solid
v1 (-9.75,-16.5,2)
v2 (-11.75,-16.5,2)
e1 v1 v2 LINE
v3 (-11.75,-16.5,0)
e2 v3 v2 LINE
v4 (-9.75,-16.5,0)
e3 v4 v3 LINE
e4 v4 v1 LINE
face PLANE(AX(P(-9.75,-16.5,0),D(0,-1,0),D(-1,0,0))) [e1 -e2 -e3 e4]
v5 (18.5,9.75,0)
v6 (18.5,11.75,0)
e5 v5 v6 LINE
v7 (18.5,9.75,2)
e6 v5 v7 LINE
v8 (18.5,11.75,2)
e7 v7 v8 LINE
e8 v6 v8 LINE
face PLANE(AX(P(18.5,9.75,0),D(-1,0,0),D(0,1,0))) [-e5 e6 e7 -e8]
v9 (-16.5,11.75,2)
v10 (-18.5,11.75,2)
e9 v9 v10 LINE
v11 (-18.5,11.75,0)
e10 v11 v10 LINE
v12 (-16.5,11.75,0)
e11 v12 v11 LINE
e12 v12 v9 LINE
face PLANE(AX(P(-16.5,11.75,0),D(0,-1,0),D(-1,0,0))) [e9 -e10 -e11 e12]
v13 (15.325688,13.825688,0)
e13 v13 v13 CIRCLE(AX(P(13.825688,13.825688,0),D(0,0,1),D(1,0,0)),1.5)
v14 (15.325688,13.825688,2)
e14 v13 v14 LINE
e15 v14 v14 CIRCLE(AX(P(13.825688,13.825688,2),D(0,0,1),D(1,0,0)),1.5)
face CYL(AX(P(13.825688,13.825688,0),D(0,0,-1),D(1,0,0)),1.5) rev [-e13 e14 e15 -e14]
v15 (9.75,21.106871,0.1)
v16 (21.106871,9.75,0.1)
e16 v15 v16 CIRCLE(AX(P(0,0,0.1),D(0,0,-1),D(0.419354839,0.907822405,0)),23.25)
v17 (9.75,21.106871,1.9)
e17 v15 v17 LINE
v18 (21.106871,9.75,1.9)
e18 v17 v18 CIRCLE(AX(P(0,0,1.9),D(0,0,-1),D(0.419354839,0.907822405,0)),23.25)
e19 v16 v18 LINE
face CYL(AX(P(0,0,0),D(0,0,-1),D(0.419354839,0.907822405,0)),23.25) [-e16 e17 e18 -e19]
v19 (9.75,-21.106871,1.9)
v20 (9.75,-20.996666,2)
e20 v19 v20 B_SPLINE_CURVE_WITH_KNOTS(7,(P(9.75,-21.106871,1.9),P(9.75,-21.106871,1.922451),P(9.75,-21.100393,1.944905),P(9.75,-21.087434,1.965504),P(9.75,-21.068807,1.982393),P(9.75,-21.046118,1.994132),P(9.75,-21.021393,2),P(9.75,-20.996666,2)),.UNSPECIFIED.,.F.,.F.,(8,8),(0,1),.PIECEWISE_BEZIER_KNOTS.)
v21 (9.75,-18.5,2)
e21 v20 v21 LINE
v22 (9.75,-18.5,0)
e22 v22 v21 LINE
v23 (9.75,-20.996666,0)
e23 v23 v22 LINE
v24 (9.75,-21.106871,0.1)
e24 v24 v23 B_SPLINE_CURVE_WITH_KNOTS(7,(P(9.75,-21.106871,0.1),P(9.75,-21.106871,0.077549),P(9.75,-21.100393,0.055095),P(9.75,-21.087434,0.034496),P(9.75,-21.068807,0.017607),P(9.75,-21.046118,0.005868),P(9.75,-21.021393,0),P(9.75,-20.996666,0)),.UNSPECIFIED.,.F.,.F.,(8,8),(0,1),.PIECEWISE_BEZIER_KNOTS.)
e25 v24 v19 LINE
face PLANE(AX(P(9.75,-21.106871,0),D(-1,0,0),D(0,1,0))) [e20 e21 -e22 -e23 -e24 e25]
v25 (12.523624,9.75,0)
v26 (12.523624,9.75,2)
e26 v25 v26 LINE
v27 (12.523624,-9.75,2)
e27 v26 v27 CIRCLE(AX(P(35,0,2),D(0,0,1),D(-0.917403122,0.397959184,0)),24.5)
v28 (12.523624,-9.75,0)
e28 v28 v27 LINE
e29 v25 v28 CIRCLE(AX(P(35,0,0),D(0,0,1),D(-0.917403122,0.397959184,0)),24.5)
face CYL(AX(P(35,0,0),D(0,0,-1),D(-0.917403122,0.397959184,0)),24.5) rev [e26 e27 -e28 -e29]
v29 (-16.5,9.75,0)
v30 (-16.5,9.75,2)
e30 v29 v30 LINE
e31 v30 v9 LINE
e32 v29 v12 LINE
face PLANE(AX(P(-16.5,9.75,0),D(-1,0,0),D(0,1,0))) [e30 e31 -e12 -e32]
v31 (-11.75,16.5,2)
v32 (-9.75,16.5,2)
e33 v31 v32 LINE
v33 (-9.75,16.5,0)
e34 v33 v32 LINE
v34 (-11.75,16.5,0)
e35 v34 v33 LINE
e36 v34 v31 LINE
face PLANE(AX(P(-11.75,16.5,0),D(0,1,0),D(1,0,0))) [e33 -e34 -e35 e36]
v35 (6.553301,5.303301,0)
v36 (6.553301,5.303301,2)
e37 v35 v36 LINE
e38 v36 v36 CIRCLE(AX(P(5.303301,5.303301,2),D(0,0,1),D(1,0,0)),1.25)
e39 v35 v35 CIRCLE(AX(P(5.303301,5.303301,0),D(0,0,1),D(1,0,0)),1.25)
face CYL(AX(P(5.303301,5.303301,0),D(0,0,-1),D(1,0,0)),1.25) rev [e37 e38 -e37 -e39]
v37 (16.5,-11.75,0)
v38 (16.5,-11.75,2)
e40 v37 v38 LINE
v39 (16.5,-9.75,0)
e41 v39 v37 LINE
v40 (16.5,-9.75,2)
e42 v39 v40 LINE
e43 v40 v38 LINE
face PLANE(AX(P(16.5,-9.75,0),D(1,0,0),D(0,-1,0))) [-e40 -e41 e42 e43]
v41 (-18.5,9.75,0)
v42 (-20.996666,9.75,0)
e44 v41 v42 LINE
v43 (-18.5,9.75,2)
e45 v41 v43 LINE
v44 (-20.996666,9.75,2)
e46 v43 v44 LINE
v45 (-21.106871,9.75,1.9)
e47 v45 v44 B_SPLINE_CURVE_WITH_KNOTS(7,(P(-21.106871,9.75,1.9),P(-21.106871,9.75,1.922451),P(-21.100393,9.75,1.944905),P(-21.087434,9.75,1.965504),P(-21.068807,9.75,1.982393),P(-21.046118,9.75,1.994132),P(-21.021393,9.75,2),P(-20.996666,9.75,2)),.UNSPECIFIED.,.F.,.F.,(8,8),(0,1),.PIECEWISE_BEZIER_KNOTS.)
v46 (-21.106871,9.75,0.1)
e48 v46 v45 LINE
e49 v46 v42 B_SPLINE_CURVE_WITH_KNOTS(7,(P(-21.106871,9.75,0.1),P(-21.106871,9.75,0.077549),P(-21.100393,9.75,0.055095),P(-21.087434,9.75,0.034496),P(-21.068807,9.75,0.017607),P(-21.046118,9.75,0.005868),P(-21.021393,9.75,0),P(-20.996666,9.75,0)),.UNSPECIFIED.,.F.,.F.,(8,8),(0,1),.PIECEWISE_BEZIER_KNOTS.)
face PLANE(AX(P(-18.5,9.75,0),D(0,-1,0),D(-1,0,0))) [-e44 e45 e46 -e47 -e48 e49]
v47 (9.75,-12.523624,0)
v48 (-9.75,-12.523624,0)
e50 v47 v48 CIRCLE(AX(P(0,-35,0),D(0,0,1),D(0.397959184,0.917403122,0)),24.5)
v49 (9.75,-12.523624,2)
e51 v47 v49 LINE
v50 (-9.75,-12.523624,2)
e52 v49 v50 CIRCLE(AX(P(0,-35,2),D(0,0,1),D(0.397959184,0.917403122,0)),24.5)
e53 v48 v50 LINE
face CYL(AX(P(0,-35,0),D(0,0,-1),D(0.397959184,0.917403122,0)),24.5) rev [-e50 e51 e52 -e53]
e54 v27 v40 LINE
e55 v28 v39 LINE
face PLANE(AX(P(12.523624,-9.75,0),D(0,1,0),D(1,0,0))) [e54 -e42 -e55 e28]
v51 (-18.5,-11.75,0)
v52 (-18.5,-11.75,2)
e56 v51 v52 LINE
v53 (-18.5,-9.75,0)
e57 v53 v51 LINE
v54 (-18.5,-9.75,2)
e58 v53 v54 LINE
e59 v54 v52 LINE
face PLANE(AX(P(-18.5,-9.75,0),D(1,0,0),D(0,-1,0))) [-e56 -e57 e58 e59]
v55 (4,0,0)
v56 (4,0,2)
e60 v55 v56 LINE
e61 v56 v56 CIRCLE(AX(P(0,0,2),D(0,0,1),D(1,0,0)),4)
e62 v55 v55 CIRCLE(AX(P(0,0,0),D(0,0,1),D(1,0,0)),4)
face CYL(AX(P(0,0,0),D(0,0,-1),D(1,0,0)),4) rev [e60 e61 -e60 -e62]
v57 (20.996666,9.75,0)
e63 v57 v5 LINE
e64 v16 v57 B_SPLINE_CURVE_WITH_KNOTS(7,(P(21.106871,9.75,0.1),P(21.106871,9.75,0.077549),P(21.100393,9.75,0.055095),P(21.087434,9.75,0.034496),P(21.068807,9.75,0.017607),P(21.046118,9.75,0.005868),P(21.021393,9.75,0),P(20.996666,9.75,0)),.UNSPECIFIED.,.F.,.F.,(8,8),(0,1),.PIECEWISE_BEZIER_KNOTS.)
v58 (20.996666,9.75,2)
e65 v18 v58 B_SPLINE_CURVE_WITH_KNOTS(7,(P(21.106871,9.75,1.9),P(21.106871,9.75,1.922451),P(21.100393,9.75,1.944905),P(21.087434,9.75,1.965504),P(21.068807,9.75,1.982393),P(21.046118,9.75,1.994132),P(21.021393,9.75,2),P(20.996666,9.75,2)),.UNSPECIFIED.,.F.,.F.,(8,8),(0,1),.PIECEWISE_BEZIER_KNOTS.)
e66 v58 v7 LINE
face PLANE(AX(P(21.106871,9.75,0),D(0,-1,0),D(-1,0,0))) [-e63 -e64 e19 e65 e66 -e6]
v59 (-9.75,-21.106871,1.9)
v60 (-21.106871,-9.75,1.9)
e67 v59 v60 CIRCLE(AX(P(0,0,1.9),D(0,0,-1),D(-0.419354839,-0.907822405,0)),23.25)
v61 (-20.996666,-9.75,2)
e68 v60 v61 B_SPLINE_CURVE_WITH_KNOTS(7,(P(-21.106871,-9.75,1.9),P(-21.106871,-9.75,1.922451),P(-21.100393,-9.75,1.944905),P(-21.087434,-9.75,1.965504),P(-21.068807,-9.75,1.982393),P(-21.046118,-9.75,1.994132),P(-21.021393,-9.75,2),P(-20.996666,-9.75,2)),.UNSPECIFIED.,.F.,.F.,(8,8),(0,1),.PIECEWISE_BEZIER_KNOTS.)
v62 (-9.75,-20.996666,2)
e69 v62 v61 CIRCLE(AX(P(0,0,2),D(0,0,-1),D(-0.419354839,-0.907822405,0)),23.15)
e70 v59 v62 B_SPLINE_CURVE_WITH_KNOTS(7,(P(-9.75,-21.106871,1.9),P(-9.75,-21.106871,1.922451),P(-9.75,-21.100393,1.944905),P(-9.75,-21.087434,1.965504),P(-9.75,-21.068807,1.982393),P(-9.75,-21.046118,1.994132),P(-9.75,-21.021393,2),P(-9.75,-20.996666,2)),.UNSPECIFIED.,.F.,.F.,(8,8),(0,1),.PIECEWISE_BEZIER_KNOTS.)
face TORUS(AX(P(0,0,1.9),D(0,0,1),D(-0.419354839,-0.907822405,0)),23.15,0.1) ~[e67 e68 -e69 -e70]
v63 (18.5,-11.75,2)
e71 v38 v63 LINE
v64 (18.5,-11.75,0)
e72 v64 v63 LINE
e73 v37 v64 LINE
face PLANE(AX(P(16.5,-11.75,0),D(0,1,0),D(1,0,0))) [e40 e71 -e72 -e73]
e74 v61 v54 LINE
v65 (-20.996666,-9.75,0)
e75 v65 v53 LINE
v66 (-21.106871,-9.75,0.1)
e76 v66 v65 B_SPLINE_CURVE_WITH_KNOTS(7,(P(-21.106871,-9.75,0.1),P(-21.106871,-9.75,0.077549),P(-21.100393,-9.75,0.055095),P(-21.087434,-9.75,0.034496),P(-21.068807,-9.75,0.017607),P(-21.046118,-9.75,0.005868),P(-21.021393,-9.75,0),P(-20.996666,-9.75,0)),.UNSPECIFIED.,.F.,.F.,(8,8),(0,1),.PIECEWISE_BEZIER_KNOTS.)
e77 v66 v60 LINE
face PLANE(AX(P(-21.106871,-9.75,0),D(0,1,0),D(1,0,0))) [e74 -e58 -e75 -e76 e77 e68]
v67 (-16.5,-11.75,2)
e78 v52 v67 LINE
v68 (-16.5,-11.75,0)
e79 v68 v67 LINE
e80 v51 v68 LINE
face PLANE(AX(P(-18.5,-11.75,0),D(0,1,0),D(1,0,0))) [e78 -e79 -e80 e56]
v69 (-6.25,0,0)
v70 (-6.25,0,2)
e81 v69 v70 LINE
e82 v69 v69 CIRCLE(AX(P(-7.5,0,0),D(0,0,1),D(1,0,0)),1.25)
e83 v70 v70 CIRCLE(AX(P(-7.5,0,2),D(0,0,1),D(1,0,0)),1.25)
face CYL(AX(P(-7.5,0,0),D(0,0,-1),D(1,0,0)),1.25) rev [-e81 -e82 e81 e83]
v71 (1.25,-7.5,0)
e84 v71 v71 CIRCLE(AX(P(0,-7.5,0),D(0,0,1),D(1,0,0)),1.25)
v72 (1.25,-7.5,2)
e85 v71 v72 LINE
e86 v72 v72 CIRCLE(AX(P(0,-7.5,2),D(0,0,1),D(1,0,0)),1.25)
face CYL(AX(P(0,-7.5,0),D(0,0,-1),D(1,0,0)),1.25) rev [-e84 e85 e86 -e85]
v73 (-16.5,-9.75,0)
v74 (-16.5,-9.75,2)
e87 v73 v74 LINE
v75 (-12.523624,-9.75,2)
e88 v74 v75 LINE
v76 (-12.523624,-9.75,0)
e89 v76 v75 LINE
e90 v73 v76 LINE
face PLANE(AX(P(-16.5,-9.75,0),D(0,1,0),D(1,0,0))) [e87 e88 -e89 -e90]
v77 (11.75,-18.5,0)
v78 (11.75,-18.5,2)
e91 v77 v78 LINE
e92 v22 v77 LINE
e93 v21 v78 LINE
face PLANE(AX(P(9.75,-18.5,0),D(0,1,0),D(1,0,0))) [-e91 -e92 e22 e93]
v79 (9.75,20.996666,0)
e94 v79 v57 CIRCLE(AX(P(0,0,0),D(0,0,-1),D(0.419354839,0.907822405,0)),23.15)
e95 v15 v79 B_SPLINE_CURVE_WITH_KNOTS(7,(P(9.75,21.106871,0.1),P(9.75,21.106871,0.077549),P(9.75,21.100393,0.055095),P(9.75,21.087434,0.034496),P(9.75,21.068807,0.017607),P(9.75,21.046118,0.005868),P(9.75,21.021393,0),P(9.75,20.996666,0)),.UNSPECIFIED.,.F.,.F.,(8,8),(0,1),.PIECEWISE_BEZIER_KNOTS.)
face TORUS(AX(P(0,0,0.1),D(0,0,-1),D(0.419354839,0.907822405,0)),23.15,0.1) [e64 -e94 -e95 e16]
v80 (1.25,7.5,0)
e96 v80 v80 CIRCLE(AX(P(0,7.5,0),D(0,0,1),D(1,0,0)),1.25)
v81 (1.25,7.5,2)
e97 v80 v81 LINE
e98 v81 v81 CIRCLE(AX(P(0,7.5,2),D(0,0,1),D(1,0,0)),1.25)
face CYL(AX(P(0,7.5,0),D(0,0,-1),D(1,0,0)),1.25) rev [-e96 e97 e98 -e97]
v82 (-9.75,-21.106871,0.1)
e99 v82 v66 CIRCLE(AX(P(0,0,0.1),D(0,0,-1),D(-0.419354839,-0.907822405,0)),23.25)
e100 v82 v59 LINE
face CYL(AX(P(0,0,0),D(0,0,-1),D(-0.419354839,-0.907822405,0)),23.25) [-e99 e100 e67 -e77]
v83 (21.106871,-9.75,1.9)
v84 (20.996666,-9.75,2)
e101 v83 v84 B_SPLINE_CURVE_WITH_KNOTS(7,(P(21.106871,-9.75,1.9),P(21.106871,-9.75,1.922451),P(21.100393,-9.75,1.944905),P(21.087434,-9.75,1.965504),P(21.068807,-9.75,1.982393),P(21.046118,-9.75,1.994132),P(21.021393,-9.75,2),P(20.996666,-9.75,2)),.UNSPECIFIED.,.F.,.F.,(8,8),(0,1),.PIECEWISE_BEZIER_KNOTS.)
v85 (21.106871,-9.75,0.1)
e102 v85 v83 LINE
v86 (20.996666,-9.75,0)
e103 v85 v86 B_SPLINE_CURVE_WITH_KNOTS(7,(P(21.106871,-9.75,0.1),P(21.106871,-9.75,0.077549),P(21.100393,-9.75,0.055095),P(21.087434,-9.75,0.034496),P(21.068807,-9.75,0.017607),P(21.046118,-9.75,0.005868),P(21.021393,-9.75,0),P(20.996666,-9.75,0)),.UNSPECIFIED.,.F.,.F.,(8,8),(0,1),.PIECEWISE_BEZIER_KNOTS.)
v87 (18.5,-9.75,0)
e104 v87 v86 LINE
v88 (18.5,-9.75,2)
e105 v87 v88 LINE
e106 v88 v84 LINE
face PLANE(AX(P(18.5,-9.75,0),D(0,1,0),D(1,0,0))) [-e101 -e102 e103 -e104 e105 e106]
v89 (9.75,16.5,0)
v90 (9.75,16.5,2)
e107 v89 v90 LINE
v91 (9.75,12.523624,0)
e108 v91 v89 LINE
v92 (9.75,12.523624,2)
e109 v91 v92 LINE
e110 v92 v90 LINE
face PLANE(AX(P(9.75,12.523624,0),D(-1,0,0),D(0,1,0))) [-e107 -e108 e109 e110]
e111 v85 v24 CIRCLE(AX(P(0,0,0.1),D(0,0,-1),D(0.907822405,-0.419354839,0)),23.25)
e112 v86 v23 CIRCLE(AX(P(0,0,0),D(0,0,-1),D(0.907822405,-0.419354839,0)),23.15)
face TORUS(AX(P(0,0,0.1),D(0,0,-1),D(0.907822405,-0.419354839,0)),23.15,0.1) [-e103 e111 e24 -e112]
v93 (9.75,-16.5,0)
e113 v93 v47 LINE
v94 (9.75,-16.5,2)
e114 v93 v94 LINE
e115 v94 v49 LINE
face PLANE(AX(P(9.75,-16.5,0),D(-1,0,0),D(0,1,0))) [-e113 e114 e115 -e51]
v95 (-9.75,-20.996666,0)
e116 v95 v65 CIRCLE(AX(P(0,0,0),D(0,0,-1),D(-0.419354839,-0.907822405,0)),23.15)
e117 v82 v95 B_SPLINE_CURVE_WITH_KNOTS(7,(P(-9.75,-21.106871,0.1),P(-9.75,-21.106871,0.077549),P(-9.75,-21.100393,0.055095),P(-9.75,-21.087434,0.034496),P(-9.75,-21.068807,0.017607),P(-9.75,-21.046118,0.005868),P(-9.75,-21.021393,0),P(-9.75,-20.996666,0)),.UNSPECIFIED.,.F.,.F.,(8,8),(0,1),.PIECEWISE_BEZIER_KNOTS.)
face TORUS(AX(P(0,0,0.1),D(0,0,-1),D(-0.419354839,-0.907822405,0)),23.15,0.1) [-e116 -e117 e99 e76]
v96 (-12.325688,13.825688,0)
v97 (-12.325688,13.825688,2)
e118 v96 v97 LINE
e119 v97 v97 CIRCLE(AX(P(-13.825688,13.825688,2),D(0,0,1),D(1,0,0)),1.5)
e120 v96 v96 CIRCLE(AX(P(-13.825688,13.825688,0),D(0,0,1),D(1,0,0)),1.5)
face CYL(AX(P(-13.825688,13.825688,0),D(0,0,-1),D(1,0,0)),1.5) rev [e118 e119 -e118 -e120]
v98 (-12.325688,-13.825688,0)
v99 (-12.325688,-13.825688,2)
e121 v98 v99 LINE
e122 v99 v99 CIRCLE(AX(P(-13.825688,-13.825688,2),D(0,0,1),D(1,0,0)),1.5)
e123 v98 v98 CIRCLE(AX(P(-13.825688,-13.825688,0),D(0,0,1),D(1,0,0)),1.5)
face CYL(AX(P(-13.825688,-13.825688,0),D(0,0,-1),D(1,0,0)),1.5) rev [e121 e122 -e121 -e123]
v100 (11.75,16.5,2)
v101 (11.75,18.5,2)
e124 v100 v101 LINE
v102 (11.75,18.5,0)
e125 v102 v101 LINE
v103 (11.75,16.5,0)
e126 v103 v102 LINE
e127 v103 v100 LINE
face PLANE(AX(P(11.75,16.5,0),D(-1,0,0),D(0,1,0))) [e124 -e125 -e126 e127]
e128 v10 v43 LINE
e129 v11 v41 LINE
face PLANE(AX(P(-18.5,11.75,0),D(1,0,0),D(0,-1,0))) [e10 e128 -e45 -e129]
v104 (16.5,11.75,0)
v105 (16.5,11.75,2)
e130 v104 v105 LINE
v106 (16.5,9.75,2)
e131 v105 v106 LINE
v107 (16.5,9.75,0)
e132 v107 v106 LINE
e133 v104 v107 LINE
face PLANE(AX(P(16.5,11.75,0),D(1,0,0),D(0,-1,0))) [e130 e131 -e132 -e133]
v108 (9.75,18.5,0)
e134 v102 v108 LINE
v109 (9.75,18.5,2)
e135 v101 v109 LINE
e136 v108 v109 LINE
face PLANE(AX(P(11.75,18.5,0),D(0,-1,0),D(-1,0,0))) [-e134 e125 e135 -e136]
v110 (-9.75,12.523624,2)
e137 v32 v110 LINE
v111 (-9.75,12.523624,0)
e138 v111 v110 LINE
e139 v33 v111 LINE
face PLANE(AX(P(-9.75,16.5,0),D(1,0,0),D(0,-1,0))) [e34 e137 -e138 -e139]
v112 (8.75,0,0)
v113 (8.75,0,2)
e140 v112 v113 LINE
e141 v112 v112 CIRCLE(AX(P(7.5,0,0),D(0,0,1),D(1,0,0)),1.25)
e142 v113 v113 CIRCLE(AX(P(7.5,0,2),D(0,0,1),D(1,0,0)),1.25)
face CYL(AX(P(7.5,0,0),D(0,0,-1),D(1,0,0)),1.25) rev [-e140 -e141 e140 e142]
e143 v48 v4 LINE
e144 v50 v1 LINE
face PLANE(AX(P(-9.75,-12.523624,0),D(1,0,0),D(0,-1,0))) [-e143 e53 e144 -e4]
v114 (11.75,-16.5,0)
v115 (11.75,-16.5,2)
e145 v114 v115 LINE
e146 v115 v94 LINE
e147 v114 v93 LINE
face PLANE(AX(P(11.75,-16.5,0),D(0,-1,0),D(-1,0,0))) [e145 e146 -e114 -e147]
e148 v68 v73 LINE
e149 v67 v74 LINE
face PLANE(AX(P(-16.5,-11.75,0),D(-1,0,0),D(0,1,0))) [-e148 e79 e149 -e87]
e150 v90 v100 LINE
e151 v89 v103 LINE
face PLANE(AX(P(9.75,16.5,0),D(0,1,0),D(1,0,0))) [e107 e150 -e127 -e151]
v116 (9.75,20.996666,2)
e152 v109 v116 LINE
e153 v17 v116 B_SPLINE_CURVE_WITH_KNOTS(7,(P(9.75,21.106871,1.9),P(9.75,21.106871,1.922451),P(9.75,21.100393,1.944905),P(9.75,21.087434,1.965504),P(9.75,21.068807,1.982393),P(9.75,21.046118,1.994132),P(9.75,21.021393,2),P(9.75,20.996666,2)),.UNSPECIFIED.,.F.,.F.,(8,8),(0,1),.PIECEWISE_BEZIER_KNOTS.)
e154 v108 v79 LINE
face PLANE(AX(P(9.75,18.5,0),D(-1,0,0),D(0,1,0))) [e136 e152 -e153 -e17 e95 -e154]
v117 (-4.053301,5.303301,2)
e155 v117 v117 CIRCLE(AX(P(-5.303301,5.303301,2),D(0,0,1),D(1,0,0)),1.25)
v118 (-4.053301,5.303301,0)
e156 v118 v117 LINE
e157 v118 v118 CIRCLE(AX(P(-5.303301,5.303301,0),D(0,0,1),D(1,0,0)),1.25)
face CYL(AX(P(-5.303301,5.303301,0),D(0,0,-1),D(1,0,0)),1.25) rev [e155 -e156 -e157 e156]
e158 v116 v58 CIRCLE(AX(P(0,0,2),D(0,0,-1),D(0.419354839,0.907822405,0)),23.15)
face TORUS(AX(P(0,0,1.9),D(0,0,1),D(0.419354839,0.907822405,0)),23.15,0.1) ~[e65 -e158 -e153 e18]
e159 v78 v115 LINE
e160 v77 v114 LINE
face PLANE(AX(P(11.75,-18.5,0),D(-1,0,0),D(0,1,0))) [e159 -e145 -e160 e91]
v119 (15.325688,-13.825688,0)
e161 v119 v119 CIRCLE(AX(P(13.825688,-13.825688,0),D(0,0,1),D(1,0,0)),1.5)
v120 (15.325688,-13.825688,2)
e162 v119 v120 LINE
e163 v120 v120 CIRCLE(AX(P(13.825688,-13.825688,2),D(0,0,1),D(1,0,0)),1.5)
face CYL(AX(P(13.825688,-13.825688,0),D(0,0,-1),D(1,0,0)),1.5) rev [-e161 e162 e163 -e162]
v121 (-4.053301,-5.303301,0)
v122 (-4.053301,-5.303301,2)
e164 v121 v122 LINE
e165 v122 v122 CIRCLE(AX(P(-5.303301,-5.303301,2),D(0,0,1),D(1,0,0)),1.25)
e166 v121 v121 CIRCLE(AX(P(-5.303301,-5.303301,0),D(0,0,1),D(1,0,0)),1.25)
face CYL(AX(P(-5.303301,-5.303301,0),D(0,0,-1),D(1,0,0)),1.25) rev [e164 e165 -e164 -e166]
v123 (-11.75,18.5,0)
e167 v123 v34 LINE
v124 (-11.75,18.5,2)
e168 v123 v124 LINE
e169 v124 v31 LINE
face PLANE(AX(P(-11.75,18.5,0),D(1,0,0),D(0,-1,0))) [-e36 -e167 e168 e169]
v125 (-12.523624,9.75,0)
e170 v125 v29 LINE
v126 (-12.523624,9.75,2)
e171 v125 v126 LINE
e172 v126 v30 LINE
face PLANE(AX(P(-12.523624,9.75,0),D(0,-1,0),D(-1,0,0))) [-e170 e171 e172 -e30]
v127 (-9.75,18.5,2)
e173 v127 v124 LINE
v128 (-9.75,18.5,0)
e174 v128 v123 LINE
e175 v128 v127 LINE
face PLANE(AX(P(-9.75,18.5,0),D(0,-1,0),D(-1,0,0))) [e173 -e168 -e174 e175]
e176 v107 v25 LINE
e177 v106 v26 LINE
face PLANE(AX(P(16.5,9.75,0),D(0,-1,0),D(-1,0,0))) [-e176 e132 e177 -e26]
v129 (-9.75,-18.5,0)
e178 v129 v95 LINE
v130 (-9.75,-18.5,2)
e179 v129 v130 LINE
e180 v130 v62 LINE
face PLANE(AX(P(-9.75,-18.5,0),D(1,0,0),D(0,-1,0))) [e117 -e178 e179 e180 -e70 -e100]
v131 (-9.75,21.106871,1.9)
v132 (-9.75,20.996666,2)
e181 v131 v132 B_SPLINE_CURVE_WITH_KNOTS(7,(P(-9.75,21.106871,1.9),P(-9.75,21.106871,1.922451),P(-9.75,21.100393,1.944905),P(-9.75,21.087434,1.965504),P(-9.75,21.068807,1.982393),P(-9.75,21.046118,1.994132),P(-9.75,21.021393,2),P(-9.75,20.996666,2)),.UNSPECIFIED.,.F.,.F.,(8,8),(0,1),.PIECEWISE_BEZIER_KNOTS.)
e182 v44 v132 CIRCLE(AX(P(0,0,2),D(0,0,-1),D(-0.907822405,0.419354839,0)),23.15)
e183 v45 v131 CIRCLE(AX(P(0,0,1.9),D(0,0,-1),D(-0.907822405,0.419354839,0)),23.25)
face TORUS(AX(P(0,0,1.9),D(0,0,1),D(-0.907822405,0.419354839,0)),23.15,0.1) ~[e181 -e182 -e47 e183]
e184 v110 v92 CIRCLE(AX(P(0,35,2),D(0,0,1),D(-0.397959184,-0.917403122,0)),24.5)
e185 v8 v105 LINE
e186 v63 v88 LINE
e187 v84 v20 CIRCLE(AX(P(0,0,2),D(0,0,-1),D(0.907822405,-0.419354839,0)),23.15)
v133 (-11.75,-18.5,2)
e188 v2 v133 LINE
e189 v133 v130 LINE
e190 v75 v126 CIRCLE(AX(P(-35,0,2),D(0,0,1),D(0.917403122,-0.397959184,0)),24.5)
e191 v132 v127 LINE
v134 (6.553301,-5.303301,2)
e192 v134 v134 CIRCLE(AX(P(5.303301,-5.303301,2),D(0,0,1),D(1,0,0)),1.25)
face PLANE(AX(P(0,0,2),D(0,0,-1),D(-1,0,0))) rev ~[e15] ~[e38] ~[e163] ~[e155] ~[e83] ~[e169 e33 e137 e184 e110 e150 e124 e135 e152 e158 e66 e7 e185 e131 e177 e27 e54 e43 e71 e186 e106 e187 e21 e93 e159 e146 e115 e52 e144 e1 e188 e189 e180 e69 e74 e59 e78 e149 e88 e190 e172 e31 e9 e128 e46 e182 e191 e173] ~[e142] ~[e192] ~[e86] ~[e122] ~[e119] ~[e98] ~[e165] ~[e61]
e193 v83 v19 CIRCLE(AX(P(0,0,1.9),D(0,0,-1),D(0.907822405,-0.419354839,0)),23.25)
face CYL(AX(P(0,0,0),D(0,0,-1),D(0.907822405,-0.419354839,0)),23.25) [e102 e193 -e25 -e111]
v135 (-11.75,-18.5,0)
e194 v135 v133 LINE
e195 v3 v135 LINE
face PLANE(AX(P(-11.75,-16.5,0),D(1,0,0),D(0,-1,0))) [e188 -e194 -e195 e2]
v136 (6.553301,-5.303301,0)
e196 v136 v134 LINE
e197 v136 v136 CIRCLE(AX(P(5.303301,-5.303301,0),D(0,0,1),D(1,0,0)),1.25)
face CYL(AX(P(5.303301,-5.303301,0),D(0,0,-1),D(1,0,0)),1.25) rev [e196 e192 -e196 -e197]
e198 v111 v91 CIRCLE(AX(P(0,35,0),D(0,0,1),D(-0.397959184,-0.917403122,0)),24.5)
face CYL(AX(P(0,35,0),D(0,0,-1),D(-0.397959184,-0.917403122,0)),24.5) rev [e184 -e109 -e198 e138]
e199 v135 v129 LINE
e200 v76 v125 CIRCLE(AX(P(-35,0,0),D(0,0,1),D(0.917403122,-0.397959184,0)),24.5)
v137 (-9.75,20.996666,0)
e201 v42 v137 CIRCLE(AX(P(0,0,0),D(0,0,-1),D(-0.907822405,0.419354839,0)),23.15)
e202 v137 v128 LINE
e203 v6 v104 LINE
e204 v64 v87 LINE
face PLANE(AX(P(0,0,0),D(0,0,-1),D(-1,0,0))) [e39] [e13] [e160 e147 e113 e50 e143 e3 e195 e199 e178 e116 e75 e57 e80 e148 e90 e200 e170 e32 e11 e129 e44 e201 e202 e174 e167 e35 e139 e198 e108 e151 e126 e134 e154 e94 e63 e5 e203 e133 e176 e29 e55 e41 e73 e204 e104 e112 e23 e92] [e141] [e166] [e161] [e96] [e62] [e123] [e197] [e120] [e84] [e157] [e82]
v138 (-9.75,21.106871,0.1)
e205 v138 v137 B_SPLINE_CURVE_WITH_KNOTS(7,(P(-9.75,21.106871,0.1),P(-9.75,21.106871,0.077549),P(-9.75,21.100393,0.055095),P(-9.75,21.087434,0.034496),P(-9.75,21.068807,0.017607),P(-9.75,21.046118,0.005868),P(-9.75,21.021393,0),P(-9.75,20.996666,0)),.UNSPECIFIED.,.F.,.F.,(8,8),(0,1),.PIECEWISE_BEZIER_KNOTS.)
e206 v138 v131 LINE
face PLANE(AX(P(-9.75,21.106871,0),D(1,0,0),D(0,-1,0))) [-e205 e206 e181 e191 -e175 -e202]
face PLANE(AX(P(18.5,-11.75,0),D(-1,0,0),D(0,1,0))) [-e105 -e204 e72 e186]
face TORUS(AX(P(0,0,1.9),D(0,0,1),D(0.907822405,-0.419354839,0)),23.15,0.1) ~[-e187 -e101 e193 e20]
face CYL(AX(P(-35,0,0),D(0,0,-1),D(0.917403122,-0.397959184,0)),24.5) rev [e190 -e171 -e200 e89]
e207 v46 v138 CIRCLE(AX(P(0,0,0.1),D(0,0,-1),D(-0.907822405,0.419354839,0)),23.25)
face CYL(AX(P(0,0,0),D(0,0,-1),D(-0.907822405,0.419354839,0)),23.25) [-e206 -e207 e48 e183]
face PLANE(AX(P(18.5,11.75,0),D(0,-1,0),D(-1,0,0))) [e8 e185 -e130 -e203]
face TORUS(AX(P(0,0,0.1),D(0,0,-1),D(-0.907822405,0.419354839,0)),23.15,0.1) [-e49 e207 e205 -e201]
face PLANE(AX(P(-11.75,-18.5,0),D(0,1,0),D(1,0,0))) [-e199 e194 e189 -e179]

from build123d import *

# Parameters (mm, degrees)
SKETCH_2_R      = 4
SKETCH_2_R_2    = 1.25
SKETCH_2_R_3    = 1.5
EXTRUDE_1_DEPTH = 2
FILLET_1_R      = 0.1


with BuildPart() as part:
    # Эскиз2 → Бобышка-Вытянуть1 (new body)
    with BuildSketch(Plane.XY):
        with BuildLine():
            Line((-9.75, 16.5), (-9.75, 12.523623513))
            ThreePointArc((-9.75, 12.523623513), (0, 10.5), (9.75, 12.523623513))
            Line((9.75, 12.523623513), (9.75, 16.5))
            Line((9.75, 16.5), (11.75, 16.5))
            Line((11.75, 16.5), (11.75, 18.5))
            Line((11.75, 18.5), (9.75, 18.5))
            Line((9.75, 18.5), (9.75, 21.106870919))
            ThreePointArc((9.75, 21.106870919), (16.440232663, 16.440232663), (21.106870919, 9.75))
            Line((21.106870919, 9.75), (18.5, 9.75))
            Line((18.5, 9.75), (18.5, 11.75))
            Line((18.5, 11.75), (16.5, 11.75))
            Line((16.5, 11.75), (16.5, 9.75))
            Line((16.5, 9.75), (12.523623513, 9.75))
            ThreePointArc((12.523623513, 9.75), (10.5, 0), (12.523623513, -9.75))
            Line((12.523623513, -9.75), (16.5, -9.75))
            Line((16.5, -9.75), (16.5, -11.75))
            Line((16.5, -11.75), (18.5, -11.75))
            Line((18.5, -11.75), (18.5, -9.75))
            Line((18.5, -9.75), (21.106870919, -9.75))
            ThreePointArc((21.106870919, -9.75), (16.440232663, -16.440232663), (9.75, -21.106870919))
            Line((9.75, -21.106870919), (9.75, -18.5))
            Line((9.75, -18.5), (11.75, -18.5))
            Line((11.75, -18.5), (11.75, -16.5))
            Line((11.75, -16.5), (9.75, -16.5))
            Line((9.75, -16.5), (9.75, -12.523623513))
            ThreePointArc((9.75, -12.523623513), (0, -10.5), (-9.75, -12.523623513))
            Line((-9.75, -12.523623513), (-9.75, -16.5))
            Line((-9.75, -16.5), (-11.75, -16.5))
            Line((-11.75, -16.5), (-11.75, -18.5))
            Line((-11.75, -18.5), (-9.75, -18.5))
            Line((-9.75, -18.5), (-9.75, -21.106870919))
            ThreePointArc((-9.75, -21.106870919), (-16.440232663, -16.440232663), (-21.106870919, -9.75))
            Line((-21.106870919, -9.75), (-18.5, -9.75))
            Line((-18.5, -9.75), (-18.5, -11.75))
            Line((-18.5, -11.75), (-16.5, -11.75))
            Line((-16.5, -11.75), (-16.5, -9.75))
            Line((-16.5, -9.75), (-12.523623513, -9.75))
            ThreePointArc((-12.523623513, -9.75), (-10.5, 0), (-12.523623513, 9.75))
            Line((-12.523623513, 9.75), (-16.5, 9.75))
            Line((-16.5, 9.75), (-16.5, 11.75))
            Line((-16.5, 11.75), (-18.5, 11.75))
            Line((-18.5, 11.75), (-18.5, 9.75))
            Line((-18.5, 9.75), (-21.106870919, 9.75))
            ThreePointArc((-21.106870919, 9.75), (-16.440232663, 16.440232663), (-9.75, 21.106870919))
            Line((-9.75, 21.106870919), (-9.75, 18.5))
            Line((-9.75, 18.5), (-11.75, 18.5))
            Line((-11.75, 18.5), (-11.75, 16.5))
            Line((-11.75, 16.5), (-9.75, 16.5))
        make_face()
        Circle(SKETCH_2_R, mode=Mode.SUBTRACT)
        with Locations((0, 7.5)):
            Circle(SKETCH_2_R_2, mode=Mode.SUBTRACT)
        with Locations((5.303300859, 5.303300859)):
            Circle(SKETCH_2_R_2, mode=Mode.SUBTRACT)
        with Locations((7.5, 0)):
            Circle(SKETCH_2_R_2, mode=Mode.SUBTRACT)
        with Locations((5.303300859, -5.303300859)):
            Circle(SKETCH_2_R_2, mode=Mode.SUBTRACT)
        with Locations((0, -7.5)):
            Circle(SKETCH_2_R_2, mode=Mode.SUBTRACT)
        with Locations((-5.303300859, -5.303300859)):
            Circle(SKETCH_2_R_2, mode=Mode.SUBTRACT)
        with Locations((-7.5, 0)):
            Circle(SKETCH_2_R_2, mode=Mode.SUBTRACT)
        with Locations((-5.303300859, 5.303300859)):
            Circle(SKETCH_2_R_2, mode=Mode.SUBTRACT)
        with Locations((13.825687912, 13.825687912)):
            Circle(SKETCH_2_R_3, mode=Mode.SUBTRACT)
        with Locations((13.825687912, -13.825687912)):
            Circle(SKETCH_2_R_3, mode=Mode.SUBTRACT)
        with Locations((-13.825687912, -13.825687912)):
            Circle(SKETCH_2_R_3, mode=Mode.SUBTRACT)
        with Locations((-13.825687912, 13.825687912)):
            Circle(SKETCH_2_R_3, mode=Mode.SUBTRACT)
    extrude(amount=EXTRUDE_1_DEPTH)

    # Скругление1
    fillet_1_edges = [part.edges().sort_by_distance(p)[0] for p in [
        (16.440232663, -16.440232663, 2),
        (16.440232663, 16.440232663, 2),
        (16.440232663, -16.440232663, 0),
        (-16.440232663, -16.440232663, 0),
        (-16.440232663, 16.440232663, 0),
        (16.440232663, 16.440232663, 0),
        (-16.440232663, 16.440232663, 2),
        (-16.440232663, -16.440232663, 2),
    ]]
    fillet(fillet_1_edges, radius=FILLET_1_R)


solid = part.part
